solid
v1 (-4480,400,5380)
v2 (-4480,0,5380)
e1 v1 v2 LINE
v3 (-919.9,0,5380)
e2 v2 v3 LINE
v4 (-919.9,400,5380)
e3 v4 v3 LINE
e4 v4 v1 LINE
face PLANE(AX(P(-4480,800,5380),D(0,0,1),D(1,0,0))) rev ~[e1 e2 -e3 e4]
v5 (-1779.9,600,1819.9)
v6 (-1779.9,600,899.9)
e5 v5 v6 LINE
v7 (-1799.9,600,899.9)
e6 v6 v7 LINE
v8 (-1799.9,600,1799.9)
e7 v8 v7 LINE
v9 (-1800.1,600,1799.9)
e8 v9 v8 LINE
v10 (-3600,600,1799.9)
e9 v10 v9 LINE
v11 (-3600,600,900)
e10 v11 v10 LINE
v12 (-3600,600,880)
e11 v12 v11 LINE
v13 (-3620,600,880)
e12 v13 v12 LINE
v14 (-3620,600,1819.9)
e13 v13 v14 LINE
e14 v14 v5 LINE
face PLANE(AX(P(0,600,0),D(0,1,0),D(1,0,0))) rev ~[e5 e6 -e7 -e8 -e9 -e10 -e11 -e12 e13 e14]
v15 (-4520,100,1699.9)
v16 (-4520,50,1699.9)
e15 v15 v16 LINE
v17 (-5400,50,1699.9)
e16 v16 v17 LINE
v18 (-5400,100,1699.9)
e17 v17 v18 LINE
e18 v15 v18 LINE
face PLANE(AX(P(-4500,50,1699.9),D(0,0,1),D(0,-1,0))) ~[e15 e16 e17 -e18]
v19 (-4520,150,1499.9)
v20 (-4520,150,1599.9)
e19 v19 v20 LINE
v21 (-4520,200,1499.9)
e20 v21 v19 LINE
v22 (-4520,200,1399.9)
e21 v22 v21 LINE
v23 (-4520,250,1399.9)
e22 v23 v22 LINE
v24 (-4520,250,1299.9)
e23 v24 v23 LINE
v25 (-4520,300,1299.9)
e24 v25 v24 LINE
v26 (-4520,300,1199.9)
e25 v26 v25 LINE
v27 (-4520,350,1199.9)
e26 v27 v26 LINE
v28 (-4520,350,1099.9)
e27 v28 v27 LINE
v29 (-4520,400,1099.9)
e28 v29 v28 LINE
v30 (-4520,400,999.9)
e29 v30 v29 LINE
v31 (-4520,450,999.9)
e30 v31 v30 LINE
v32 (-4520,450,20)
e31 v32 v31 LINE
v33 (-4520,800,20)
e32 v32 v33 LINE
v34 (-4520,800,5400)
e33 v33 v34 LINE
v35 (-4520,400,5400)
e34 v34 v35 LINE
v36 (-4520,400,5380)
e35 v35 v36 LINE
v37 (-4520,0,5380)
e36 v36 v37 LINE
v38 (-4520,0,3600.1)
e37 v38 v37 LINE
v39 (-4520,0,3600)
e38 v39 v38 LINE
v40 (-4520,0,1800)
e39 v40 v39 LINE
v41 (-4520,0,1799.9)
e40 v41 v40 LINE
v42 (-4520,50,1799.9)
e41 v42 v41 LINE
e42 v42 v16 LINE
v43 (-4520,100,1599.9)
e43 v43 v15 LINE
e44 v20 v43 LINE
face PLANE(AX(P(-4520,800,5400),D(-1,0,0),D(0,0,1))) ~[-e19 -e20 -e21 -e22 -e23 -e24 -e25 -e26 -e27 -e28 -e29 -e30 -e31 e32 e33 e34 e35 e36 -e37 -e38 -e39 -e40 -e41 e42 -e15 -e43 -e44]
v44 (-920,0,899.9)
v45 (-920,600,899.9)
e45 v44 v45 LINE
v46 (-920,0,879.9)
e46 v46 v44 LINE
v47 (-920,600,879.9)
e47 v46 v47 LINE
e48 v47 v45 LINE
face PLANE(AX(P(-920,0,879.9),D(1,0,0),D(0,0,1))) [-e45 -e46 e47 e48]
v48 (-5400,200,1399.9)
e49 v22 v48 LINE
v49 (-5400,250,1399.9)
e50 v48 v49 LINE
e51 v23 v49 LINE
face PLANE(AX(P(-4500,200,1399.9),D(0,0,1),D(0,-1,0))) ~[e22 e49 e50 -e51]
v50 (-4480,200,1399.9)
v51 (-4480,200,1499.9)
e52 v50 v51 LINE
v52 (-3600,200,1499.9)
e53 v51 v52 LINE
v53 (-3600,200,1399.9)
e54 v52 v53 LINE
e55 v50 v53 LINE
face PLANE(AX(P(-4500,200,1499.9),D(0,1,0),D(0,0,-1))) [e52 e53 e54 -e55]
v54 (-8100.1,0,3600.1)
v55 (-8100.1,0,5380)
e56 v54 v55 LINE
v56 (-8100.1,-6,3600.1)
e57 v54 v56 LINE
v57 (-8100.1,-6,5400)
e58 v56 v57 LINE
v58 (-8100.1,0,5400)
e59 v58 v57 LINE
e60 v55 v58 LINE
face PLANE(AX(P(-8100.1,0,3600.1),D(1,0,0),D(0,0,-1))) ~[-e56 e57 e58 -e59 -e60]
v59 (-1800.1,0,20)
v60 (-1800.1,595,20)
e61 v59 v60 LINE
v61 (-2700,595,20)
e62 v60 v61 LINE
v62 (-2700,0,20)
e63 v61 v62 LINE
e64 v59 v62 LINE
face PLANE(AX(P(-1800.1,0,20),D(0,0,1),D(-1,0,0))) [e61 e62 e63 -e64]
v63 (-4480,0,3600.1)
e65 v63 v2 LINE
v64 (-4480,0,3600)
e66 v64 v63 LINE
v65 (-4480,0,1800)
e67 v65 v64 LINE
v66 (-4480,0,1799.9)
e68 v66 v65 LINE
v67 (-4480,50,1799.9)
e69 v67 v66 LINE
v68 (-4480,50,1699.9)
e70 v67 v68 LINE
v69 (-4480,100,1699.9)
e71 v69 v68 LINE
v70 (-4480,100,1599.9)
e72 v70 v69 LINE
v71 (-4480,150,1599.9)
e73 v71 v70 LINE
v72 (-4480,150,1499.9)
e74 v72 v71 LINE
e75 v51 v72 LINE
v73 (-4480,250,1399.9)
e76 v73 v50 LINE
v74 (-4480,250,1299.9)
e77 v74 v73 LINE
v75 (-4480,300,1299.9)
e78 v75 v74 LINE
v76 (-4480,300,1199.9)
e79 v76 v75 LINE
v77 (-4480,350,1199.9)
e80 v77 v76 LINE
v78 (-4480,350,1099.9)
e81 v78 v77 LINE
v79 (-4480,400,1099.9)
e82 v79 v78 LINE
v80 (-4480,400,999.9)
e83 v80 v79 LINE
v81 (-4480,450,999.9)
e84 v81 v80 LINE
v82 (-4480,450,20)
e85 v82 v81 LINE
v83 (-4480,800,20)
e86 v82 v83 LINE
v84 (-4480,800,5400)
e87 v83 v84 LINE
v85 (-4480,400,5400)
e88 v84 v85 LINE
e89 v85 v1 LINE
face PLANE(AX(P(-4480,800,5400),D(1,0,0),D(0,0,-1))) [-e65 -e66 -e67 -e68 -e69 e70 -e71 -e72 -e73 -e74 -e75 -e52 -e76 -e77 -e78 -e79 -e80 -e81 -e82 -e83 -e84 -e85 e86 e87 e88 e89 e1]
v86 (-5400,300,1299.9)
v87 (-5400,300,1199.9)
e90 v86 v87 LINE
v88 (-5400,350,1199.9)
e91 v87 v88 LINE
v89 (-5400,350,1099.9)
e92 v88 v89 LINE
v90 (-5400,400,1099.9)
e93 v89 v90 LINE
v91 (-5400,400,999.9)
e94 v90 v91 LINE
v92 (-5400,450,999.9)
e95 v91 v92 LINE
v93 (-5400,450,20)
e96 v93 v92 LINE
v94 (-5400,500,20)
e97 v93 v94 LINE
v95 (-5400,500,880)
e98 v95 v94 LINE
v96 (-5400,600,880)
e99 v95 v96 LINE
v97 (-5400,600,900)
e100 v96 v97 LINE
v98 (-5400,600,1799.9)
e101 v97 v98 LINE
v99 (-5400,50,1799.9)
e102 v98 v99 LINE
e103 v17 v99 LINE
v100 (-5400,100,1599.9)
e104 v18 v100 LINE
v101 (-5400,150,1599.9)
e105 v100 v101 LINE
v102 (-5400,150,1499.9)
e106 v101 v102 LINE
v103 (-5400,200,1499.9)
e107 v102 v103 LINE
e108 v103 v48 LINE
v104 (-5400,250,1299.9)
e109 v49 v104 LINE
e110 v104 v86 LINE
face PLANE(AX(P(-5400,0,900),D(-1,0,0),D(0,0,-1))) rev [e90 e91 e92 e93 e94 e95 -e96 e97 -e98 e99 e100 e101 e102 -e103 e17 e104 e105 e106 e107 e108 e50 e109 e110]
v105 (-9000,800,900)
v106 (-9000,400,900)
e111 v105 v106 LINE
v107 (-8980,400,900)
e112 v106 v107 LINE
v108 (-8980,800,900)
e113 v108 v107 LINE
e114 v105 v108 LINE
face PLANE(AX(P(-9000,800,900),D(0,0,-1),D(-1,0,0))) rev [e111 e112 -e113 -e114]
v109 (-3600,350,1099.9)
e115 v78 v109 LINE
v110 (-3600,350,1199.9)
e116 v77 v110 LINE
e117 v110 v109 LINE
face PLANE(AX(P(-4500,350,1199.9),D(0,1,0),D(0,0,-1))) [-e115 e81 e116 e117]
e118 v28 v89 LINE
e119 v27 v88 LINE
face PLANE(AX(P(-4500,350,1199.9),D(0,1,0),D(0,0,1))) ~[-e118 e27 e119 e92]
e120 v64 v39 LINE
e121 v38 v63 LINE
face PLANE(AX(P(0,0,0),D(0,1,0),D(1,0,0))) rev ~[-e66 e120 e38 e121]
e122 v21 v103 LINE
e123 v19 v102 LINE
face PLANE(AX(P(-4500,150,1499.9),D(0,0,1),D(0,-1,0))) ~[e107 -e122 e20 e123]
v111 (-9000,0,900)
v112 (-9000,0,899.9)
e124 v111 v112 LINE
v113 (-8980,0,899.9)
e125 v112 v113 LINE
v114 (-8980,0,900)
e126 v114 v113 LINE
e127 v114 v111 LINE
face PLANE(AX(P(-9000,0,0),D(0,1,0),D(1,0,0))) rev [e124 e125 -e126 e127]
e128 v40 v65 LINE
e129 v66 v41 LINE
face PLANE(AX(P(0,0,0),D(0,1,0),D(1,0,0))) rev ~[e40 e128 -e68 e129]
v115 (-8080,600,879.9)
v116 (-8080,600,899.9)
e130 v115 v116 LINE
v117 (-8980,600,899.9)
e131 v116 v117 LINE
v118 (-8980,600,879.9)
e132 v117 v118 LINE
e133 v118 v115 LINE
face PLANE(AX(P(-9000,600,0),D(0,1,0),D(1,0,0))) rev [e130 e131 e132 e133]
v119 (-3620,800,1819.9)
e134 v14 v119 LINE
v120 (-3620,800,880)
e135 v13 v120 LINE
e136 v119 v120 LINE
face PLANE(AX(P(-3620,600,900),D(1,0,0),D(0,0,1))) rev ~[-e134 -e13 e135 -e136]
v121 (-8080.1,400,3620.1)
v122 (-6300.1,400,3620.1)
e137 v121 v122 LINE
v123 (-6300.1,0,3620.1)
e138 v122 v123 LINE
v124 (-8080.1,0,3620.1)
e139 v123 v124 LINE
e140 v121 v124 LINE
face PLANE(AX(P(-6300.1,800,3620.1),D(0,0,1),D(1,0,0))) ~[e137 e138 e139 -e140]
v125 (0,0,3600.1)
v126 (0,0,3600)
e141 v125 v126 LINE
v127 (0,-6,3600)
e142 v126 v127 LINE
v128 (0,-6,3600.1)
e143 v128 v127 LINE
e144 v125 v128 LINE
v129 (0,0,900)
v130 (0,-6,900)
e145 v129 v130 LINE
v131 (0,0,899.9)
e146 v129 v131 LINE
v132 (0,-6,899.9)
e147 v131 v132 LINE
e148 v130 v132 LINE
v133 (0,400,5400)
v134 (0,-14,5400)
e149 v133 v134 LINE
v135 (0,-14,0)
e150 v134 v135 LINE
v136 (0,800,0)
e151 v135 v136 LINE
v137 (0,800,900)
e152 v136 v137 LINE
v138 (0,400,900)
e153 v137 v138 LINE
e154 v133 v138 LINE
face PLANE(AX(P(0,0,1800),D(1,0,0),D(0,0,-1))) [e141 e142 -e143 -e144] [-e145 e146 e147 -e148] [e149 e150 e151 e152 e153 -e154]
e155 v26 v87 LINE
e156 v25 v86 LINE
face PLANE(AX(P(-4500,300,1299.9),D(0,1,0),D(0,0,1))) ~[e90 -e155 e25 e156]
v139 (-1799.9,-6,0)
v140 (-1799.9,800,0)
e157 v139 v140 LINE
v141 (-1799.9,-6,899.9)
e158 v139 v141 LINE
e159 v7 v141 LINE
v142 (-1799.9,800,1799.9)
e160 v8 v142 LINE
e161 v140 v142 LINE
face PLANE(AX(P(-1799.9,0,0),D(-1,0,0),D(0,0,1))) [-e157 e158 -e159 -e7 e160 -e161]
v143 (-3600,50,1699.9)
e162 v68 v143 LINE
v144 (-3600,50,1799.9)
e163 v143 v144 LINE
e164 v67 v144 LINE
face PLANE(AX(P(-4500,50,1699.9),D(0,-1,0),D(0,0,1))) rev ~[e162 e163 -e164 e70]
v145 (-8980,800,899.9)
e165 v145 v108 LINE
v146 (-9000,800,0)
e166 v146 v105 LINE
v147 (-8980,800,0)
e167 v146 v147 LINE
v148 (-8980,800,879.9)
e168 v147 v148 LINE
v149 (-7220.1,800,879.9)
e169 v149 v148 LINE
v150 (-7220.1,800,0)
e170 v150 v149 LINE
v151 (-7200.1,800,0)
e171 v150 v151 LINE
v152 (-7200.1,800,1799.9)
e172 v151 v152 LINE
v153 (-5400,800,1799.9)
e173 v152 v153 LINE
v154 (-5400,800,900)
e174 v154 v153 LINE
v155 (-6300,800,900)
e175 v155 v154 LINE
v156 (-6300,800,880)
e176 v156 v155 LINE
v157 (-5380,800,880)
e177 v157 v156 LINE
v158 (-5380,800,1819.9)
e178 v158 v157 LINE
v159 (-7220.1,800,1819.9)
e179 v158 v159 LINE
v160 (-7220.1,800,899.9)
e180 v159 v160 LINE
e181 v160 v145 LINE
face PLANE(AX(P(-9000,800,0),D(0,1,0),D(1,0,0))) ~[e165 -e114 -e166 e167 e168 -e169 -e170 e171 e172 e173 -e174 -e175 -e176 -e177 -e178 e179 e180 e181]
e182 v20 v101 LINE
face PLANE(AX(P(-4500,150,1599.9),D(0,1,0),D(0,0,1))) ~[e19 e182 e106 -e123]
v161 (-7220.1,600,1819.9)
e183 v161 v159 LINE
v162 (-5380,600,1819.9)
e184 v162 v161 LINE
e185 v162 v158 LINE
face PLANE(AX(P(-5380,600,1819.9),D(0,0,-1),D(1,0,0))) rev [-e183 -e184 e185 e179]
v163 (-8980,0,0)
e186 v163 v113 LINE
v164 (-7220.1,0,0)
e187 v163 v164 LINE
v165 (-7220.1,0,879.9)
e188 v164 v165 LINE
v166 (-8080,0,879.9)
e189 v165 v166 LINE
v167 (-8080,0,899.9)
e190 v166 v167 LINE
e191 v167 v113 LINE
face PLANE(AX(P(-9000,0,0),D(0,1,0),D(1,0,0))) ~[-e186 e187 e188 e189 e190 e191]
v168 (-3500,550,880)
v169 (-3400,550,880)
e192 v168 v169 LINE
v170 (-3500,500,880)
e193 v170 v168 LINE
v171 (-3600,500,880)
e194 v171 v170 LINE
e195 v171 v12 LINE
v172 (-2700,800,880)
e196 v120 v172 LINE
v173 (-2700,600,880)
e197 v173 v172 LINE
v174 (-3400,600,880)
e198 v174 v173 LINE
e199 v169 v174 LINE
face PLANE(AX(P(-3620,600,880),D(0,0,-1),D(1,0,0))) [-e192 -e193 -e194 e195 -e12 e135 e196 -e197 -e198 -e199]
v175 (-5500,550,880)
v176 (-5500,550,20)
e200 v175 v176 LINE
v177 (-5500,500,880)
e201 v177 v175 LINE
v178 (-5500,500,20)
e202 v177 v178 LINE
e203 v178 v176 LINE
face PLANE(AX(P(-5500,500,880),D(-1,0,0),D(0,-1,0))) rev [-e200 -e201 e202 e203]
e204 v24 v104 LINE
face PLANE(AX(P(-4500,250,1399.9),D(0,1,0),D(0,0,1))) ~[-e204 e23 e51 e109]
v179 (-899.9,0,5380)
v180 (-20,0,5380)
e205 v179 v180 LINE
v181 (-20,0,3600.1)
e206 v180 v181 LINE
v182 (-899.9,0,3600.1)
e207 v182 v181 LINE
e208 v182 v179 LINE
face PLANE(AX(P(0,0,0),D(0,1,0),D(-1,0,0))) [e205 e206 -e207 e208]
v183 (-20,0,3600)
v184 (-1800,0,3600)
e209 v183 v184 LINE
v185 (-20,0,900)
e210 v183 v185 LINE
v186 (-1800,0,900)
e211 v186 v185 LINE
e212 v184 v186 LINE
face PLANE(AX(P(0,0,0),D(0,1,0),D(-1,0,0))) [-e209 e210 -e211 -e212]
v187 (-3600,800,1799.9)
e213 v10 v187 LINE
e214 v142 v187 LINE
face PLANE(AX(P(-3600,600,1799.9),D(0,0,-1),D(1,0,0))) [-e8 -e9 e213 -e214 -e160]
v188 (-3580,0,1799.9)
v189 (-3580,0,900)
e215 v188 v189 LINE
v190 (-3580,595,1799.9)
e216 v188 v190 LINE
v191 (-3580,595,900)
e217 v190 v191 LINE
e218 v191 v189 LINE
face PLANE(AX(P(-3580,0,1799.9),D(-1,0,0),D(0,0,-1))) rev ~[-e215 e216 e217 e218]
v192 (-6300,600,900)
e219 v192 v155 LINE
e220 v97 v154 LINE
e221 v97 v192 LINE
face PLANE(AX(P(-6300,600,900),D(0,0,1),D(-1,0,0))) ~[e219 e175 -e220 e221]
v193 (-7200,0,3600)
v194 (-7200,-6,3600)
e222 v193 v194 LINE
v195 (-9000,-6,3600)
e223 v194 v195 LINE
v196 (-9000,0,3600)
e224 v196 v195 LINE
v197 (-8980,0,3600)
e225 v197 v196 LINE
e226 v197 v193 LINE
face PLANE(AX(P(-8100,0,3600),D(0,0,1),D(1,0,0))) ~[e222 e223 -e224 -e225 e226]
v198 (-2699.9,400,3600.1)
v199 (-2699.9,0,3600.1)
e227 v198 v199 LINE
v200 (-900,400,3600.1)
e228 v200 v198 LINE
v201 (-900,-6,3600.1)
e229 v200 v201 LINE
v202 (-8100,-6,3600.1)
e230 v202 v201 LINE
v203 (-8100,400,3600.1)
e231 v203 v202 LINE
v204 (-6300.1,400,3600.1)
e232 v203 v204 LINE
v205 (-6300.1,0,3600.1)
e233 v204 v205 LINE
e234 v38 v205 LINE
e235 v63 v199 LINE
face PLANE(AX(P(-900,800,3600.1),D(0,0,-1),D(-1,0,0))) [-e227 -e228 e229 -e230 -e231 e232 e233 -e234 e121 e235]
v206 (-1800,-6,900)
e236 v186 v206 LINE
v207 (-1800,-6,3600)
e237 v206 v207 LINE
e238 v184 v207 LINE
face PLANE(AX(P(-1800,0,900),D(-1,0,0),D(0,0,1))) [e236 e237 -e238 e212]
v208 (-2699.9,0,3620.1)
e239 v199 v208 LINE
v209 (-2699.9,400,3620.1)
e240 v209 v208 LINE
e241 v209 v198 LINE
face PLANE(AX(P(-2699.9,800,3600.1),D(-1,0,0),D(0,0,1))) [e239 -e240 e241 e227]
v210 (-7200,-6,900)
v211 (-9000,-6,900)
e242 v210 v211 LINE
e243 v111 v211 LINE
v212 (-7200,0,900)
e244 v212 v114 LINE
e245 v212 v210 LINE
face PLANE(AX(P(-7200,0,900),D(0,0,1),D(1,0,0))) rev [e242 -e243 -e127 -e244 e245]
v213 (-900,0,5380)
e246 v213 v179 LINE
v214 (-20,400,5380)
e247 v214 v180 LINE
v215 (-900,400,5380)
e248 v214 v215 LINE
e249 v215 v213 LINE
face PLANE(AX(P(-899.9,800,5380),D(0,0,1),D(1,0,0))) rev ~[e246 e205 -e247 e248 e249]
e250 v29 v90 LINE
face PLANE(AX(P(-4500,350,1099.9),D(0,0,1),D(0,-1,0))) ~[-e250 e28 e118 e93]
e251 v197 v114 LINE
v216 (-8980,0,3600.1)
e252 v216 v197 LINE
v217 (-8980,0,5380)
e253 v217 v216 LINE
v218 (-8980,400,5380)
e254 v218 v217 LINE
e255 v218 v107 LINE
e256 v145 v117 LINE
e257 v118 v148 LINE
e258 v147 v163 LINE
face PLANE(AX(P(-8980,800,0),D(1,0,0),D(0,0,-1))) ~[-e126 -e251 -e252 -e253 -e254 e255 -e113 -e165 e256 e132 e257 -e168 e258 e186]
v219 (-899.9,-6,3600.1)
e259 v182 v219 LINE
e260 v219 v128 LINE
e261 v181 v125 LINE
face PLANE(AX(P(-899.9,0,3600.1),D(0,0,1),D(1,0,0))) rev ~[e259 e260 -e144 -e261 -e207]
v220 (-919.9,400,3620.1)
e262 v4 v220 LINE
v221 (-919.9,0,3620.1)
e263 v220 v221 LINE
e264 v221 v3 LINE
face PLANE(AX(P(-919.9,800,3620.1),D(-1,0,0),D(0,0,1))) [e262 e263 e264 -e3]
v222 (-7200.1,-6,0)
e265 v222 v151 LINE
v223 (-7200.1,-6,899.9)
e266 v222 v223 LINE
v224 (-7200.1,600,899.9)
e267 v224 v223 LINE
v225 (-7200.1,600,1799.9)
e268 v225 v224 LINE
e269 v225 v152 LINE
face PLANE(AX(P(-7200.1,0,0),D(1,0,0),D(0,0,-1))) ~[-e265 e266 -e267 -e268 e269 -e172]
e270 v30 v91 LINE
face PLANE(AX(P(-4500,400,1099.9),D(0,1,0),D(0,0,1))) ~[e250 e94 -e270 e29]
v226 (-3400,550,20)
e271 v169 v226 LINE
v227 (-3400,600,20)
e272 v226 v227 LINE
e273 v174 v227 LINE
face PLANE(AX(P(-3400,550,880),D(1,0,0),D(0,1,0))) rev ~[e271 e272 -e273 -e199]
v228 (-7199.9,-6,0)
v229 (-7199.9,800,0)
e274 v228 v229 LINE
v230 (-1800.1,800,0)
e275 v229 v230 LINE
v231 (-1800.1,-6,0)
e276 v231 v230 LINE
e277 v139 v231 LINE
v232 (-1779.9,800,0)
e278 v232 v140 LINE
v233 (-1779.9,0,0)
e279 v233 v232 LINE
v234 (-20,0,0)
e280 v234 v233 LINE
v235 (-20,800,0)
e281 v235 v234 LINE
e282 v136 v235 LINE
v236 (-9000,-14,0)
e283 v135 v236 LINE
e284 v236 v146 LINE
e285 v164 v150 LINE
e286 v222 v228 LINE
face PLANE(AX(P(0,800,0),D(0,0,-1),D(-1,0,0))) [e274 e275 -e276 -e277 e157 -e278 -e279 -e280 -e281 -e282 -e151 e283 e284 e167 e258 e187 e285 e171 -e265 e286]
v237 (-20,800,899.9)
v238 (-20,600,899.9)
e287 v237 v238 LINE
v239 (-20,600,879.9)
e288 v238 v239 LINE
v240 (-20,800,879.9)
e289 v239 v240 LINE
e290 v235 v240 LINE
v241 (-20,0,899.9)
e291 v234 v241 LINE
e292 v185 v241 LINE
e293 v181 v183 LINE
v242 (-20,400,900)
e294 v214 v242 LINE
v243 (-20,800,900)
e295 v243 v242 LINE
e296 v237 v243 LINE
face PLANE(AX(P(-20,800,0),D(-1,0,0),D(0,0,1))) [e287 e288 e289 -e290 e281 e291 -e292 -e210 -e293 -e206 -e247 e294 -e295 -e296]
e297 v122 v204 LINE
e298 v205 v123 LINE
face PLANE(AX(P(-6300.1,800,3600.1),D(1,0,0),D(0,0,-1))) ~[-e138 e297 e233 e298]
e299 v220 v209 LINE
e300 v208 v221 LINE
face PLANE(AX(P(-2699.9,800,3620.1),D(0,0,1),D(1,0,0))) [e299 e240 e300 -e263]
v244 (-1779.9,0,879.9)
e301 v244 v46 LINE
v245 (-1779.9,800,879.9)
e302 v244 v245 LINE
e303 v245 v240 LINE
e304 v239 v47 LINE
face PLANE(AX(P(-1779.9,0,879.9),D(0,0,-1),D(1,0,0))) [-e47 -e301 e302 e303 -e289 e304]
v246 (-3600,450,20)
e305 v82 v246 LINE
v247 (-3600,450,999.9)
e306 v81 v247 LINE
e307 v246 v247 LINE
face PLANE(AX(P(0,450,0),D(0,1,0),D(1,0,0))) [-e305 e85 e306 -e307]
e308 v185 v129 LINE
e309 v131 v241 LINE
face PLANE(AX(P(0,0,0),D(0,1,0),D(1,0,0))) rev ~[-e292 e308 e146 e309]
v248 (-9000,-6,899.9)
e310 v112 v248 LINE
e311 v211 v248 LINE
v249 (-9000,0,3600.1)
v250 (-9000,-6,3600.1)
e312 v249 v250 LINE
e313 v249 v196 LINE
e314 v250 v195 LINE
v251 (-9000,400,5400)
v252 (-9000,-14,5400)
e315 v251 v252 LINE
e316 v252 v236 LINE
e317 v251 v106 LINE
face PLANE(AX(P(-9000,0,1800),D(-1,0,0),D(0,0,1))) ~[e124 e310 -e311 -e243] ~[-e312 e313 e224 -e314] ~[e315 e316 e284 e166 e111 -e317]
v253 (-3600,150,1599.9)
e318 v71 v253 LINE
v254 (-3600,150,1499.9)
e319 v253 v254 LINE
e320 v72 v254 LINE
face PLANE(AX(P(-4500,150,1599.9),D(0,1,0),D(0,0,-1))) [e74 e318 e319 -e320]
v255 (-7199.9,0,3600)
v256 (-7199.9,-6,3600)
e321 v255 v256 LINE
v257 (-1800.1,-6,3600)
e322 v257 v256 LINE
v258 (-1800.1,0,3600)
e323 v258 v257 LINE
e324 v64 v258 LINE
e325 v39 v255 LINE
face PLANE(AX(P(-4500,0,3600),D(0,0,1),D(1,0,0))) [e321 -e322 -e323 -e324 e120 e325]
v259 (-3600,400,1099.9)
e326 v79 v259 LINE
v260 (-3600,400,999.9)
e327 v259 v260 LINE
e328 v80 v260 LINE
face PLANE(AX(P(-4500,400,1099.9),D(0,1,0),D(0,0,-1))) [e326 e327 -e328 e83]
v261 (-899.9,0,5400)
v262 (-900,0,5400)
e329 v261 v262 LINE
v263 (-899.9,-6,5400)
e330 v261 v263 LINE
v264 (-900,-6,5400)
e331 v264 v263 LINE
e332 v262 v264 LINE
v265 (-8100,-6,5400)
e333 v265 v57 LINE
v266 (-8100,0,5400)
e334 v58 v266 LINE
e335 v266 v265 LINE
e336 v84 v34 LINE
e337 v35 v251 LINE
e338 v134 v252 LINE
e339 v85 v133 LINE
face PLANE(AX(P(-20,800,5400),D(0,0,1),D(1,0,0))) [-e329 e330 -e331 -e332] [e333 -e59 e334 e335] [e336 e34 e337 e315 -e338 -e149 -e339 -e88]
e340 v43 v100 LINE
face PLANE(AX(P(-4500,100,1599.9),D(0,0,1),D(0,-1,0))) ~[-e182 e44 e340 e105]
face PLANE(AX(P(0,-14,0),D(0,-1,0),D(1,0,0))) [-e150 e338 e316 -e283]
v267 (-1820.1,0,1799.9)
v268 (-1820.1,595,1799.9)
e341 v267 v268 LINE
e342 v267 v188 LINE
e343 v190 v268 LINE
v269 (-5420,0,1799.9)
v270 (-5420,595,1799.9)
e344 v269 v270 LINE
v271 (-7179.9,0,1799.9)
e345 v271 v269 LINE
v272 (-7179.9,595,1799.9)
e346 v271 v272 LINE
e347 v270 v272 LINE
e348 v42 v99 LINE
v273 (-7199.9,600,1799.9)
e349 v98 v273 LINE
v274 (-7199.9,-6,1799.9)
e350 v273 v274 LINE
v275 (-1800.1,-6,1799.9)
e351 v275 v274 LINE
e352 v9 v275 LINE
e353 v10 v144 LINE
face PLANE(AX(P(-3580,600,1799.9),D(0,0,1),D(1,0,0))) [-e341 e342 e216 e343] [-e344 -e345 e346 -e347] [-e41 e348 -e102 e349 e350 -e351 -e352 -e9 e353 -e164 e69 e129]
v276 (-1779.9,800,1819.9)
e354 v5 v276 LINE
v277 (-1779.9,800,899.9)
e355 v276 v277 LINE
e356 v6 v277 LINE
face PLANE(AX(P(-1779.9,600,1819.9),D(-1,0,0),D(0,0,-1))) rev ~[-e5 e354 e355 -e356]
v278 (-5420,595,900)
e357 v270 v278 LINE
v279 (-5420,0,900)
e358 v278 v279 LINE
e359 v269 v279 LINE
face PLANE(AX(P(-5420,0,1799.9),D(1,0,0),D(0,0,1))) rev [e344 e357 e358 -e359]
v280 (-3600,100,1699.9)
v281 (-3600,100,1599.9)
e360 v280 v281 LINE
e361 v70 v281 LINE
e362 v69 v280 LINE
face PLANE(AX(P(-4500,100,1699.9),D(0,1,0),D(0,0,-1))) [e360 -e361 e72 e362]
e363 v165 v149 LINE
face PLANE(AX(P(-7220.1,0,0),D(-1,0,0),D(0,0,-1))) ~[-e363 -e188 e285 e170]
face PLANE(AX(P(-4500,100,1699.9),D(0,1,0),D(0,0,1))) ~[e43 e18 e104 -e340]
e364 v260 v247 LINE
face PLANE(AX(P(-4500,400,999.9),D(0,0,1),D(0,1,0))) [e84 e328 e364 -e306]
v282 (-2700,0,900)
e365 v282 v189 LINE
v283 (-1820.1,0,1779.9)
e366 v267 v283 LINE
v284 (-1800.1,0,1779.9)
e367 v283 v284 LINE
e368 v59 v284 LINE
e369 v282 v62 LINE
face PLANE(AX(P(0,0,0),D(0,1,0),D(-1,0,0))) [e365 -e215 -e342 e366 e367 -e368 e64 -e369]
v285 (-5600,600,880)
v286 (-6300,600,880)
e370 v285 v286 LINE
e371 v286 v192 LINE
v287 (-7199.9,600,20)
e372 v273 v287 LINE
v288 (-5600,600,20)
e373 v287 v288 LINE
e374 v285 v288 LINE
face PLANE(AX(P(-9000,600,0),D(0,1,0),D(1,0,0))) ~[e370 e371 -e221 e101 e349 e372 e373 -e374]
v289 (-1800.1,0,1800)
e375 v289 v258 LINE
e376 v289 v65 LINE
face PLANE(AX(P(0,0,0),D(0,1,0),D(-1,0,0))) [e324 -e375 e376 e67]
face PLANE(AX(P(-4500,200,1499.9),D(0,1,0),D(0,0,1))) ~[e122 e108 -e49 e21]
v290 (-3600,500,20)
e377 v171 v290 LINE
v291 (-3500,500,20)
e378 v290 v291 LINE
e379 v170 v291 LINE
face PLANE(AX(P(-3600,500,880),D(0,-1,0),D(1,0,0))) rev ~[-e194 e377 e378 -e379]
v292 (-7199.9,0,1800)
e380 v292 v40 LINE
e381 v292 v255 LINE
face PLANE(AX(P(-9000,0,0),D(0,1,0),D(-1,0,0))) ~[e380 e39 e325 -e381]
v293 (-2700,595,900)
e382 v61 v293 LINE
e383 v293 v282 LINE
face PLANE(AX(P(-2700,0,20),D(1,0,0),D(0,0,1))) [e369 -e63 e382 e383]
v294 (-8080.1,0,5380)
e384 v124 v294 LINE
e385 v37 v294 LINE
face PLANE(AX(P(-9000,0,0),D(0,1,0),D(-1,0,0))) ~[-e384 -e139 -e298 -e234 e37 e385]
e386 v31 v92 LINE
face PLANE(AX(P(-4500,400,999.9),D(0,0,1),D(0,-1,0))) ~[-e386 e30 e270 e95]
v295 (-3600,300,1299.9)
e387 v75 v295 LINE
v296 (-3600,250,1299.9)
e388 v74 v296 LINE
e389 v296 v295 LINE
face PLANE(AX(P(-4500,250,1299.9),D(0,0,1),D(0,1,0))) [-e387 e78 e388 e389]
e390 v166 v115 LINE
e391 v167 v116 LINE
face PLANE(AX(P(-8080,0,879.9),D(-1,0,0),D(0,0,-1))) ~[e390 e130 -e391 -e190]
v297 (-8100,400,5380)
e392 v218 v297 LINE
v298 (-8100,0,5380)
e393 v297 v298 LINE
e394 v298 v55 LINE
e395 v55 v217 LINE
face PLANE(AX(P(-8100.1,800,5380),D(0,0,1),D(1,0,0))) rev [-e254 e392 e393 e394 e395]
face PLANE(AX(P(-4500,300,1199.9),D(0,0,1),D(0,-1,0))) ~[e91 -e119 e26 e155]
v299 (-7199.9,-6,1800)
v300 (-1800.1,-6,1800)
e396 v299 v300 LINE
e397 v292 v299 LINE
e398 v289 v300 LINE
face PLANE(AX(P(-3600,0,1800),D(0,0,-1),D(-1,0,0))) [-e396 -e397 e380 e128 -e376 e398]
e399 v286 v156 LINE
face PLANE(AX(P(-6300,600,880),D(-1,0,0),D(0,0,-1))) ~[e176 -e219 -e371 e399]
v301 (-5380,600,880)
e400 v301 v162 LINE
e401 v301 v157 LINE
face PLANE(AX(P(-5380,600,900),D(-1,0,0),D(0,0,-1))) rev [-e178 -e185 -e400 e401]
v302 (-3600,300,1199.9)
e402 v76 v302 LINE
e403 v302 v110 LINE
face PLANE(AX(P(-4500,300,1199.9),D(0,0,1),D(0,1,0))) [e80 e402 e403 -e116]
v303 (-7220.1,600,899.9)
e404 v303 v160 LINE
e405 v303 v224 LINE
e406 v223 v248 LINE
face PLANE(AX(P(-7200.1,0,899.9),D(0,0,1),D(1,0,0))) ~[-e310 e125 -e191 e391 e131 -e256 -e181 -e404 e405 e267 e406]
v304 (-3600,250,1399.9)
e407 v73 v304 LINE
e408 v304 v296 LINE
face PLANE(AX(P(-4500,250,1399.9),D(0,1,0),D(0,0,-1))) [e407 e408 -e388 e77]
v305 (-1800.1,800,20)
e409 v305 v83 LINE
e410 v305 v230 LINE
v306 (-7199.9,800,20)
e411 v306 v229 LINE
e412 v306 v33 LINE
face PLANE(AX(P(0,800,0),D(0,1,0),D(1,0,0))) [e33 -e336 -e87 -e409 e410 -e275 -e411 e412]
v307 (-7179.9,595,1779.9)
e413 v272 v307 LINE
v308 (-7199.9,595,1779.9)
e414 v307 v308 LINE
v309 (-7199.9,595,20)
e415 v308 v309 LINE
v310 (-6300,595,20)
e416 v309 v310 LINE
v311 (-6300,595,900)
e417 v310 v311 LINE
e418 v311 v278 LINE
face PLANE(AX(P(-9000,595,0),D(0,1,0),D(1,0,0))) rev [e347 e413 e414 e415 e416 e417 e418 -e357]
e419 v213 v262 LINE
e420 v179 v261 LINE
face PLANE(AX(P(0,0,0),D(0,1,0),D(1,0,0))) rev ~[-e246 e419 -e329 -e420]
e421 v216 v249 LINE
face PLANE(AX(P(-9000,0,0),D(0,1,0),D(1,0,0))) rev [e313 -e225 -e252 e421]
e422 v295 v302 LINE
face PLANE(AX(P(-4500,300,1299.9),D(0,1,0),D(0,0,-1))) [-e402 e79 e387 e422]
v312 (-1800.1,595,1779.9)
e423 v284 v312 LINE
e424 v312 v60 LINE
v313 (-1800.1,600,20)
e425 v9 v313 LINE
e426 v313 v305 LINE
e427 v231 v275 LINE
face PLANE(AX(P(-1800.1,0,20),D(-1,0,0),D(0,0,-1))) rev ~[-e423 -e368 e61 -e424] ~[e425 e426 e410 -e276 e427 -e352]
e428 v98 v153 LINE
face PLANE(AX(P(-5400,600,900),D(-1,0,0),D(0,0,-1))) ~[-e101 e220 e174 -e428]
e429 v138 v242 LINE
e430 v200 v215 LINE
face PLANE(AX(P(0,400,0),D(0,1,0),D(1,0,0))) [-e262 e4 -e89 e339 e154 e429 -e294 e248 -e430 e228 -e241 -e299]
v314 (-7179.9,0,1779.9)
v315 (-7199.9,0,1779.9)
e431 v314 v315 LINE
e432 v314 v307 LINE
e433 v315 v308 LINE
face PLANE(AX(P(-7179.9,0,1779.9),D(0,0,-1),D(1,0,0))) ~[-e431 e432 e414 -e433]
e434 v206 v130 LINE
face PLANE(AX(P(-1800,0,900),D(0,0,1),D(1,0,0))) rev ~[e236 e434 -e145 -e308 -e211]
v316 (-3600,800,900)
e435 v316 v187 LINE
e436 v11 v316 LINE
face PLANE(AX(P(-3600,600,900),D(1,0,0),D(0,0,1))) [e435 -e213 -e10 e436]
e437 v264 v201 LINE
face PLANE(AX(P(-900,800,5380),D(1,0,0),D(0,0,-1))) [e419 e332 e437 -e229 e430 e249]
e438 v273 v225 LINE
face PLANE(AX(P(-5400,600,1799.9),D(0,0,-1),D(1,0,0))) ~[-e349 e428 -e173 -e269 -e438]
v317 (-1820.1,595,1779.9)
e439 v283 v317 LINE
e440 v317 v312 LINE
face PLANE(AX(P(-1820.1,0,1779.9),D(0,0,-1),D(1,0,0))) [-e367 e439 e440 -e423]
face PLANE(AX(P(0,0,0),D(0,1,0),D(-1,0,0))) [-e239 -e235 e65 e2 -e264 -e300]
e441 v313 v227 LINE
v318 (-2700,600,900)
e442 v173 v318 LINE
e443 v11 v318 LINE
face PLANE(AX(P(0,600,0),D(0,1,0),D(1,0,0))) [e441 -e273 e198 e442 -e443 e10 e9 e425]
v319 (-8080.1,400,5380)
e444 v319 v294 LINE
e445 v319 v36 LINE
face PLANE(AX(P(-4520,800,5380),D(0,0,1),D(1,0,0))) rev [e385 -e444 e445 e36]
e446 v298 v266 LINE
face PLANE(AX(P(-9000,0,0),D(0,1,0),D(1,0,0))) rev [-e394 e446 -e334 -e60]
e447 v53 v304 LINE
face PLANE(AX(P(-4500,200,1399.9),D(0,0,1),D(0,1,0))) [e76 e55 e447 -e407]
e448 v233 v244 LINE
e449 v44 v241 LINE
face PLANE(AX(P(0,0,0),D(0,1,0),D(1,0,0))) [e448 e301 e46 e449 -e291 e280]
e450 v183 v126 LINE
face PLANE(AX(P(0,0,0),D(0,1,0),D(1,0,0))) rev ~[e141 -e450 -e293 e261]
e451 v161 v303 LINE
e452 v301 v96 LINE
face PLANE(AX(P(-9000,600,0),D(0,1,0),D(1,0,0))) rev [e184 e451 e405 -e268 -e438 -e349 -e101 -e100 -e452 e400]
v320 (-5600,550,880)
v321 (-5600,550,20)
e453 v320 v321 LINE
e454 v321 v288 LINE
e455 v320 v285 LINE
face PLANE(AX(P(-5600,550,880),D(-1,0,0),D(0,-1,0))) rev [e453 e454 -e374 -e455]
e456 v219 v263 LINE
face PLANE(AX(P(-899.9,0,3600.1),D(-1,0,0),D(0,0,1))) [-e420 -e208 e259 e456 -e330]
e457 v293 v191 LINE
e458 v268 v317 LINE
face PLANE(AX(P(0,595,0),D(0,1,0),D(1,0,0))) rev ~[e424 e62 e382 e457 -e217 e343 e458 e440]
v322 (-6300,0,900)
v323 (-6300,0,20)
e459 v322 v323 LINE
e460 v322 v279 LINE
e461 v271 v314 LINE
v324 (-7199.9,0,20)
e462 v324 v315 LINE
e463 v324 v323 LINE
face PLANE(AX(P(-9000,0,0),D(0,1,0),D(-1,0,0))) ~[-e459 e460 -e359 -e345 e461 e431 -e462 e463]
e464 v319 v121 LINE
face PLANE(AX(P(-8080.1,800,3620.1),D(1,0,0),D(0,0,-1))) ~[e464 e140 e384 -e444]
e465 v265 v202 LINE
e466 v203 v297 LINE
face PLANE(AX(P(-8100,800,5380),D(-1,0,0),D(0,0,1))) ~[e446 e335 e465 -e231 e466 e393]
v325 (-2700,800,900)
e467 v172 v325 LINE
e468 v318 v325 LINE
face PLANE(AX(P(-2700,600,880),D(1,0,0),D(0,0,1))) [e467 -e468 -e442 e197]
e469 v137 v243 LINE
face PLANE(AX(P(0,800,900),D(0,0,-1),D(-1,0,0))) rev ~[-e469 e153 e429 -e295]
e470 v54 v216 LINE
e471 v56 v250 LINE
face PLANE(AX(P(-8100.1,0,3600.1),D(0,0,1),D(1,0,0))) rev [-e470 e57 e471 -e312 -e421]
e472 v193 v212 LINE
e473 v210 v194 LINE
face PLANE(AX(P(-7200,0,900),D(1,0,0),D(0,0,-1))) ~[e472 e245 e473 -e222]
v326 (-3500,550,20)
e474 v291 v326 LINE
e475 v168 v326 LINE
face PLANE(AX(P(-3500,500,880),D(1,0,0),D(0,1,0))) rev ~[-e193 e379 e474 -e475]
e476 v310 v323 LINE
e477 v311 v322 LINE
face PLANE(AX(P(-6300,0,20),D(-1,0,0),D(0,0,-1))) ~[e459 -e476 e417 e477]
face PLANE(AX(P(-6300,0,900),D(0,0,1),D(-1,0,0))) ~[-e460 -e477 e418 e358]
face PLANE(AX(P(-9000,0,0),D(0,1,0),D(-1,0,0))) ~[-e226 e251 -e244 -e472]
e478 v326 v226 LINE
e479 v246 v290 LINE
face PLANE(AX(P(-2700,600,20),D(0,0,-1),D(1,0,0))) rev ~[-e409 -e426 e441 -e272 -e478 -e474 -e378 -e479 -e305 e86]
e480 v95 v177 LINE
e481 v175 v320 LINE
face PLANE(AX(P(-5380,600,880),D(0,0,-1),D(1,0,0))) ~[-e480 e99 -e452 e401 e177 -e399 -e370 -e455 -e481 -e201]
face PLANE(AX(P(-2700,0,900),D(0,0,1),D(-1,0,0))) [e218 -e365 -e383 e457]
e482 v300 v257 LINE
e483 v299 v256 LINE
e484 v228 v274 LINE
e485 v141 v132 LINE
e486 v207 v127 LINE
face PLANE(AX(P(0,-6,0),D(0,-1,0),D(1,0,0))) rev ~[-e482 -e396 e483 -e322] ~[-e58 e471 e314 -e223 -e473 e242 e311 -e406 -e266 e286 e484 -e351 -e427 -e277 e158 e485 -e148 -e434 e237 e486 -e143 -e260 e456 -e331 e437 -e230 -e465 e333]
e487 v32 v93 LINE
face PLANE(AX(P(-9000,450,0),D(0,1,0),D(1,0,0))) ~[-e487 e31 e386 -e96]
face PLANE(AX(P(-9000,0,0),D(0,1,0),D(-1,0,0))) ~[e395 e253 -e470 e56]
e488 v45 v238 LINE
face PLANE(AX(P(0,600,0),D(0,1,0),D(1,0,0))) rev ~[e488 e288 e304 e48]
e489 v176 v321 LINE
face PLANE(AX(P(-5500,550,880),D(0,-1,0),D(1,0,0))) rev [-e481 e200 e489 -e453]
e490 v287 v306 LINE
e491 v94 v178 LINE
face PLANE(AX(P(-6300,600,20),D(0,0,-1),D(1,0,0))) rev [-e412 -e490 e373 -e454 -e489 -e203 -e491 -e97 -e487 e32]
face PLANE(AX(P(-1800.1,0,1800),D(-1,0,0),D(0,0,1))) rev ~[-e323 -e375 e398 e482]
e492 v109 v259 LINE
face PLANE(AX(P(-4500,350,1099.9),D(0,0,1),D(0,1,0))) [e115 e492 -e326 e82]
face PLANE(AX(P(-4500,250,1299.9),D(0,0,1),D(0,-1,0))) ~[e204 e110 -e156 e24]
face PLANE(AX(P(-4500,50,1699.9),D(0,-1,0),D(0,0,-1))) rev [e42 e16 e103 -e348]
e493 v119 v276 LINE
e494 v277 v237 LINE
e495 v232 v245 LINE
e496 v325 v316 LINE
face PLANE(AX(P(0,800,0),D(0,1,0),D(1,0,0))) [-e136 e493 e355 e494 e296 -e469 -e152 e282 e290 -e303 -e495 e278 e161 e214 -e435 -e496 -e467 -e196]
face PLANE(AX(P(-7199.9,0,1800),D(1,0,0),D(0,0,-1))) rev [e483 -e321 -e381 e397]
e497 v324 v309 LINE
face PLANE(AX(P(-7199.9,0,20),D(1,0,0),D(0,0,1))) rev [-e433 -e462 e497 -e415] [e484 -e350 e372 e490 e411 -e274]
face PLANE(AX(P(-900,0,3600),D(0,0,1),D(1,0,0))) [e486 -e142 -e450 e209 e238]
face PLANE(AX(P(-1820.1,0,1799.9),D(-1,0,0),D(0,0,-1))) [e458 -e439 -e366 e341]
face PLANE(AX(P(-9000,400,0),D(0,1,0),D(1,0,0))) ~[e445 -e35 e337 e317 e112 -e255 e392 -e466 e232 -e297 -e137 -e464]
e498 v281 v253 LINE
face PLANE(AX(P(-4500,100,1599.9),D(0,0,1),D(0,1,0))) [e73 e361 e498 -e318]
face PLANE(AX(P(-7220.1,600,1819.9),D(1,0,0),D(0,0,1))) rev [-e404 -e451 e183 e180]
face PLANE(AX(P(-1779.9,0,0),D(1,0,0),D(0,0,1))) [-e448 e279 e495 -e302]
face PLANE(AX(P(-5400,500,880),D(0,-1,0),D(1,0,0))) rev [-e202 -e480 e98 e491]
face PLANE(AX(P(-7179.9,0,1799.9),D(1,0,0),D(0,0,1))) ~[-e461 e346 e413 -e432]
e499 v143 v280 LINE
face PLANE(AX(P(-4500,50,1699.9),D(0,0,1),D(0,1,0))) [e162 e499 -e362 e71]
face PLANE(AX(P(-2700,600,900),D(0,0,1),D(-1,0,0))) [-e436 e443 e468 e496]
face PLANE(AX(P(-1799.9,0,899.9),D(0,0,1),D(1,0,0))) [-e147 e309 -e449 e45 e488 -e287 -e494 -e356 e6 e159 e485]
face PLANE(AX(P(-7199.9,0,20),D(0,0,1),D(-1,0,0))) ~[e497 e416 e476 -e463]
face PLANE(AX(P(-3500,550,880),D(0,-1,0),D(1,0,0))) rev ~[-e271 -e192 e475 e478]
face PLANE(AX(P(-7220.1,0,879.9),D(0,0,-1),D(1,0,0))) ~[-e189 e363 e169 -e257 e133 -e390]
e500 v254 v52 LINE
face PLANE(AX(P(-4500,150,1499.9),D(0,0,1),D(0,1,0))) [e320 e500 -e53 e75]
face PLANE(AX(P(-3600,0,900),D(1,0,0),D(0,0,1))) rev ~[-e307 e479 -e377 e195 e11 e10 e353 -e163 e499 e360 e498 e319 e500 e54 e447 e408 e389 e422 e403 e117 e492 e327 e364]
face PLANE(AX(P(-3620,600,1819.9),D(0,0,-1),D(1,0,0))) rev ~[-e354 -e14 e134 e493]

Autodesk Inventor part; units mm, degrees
ref_plane "YZ Plane" through (0, 0, 0) normal (1, 0, 0) x (0, 1, 0)
ref_plane "XZ Plane" through (0, 0, 0) normal (0, 1, 0) x (-1, 0, 0)
ref_plane "XY Plane" through (0, 0, 0) normal (0, 0, 1) x (1, 0, 0)
sketch "スケッチ1" plane through (0, 0, 0) normal (0, 1, 0) x (-1, 0, 0)
  line L0 (0, 0) -> (1800, 0)
  line L1 (1800, 0) -> (1800, 1800)
  line L2 (1800, 1800) -> (0, 1800) construction
  line L3 (0, 1800) -> (0, 0)
  line L4 (0, 1800) -> (1800, 1800) construction
  line L5 (1800, 1800) -> (1800, 3600)
  line L6 (1800, 3600) -> (0, 3600)
  line L7 (0, 3600) -> (0, 1800)
  line L8 (0, 3600) -> (900, 3600)
  line L9 (900, 3600) -> (900, 5400)
  line L10 (900, 5400) -> (0, 5400)
  line L11 (0, 5400) -> (0, 3600)
  line L12 (900, 5400) -> (4500, 5400)
  line L13 (4500, 5400) -> (4500, 3600)
  line L14 (4500, 3600) -> (900, 3600)
  line L15 (900, 3600) -> (900, 5400)
  line L16 (4500, 3600) -> (1800, 3600)
  line L17 (1800, 3600) -> (1800, 1800)
  line L18 (1800, 1800) -> (4500, 1800)
  line L19 (4500, 1800) -> (4500, 3600)
  line L20 (1800, 1800) -> (4500, 1800)
  line L21 (4500, 1800) -> (4500, 0)
  line L22 (4500, 0) -> (1800, 0)
  line L23 (1800, 0) -> (1800, 1800)
  line L24 (4500, 1800) -> (3600, 1800)
  line L25 (3600, 1800) -> (3600, 0)
  line L26 (3600, 0) -> (4500, 0)
  line L27 (4500, 0) -> (4500, 1800)
  line L28 (1800, 900) -> (0, 900)
  line L29 (1800, 899.9) -> (0, 899.9)
  line L30 (1799.9, 0) -> (1799.9, 899.9)
  line L31 (1800.1, 1800) -> (1800.1, 3600)
  line L32 (1800.1, 0) -> (1800.1, 1799.9)
  line L33 (1800.1, 1799.9) -> (3600, 1799.9)
  line L34 (1877.5864, 3600) -> (4500, 3600)
  line L35 (4500, 3600) -> (4500, 1864.0551)
  line L36 (3600, 1799.9) -> (4500, 1799.9)
  line L37 (4500, 3600.1) -> (0, 3600.1)
  line L38 (899.9, 3600.1) -> (899.9, 5400)
  point P0 (4500, 1800)
  point P1 (1800, 1799.9)
  point P2 (3600, 0)
  point P3 (900, 3600.1)
  dimension "d0" = 1800
  dimension "d1" = 1800
  dimension "d2" = 1800
  dimension "d3" = 1800
  dimension "d4" = 900
  dimension "d5" = 1800
  dimension "d6" = 3600
  dimension "d7" = 1800
  dimension "d8" = 900
  dimension "d9" = 1800
  dimension "d22" = 0.1
  dimension "d23" = 0.1
  dimension "d24" = 0.1
  dimension "d26" = 0.1
  dimension "d31" = 0.1
  dimension "d32" = 0.1
  dimension "d35" = 0.1
  dimension "d36" = 0.1
extrude "押し出し1" add sketch "スケッチ1" against normal blind 10 contours L3 L29 L30 L0
extrude "押し出し4" add sketch "スケッチ1" against normal blind 10 contours L32 L33 L25 L22 | L25 L36 L21 L22 | L9 L12 L13 L37
extrude "押し出し5" add sketch "スケッチ1" against normal blind 10 contours L3 L7 L6 L5 L1 L28
extrude "押し出し6" add sketch "スケッチ1" against normal blind 10 contours L31 L14 L19 L18
extrude "押し出し8" add sketch "スケッチ1" against normal blind 10 contours L11 L10 L38 L37
sketch "スケッチ4" plane through (0, 0, 0) normal (0, 1, 0) x (1, 0, 0)
  line L0 (-1800.1, -1799.9) -> (-1800.1, 0) projected
  line L1 (-1800.1, 0) -> (-4500, 0) projected
  line L2 (-4500, 0) -> (-4500, -1799.9) projected
  line L3 (-4500, -1799.9) -> (-1800.1, -1799.9) projected
  line L4 (-1800.1, -1799.9) -> (-1820.1, -1799.9)
  line L5 (-1820.1, -1799.9) -> (-1820.1, -1779.9)
  line L6 (-1820.1, -1779.9) -> (-1800.1, -1779.9)
  line L7 (-1800.1, -1779.9) -> (-1800.1, -1799.9)
  line L8 (-3600, -1799.9) -> (-3580, -1799.9)
  line L9 (-3580, -1799.9) -> (-3580, 0.1)
  line L10 (-3580, 0.1) -> (-3600, 0.1)
  line L11 (-3600, 0.1) -> (-3600, -1799.9)
  line L12 (-3600, -900) -> (-3580, -900)
  point P0 (0, 0)
  point P1 (-3600, 0)
  point P2 (-3580, 0)
  dimension "d41" = 20
  dimension "d42" = 20
  dimension "d43" = 20
  dimension "d44" = 1800
  dimension "d45" = 900
  dimension "d48" = 900
extrude "押し出し9" add sketch "スケッチ4" along normal blind 600 contours L3 L5 L6 L0 | L3 L11 L12 L9
sketch "スケッチ5" plane through (0, 600, 0) normal (0, 1, 0) x (1, 0, 0)
  line L0 (-3600, -900) -> (-3600, -1799.9) projected
  line L1 (-3580, -1799.9) -> (-1820.1, -1799.9) projected
  line L2 (-1800.1, -1800) -> (-4500, -1800) projected
  line L3 (-1800.1, -1779.9) -> (-1800.1, 0) projected
  line L4 (-3600, -1799.9) -> (-1800.1, -1799.9)
  line L5 (-1800.1, -1799.9) -> (-1800.1, 0)
  line L6 (-1800.1, 0) -> (-3600, 0)
  line L7 (-3600, 0) -> (-3600, -1799.9)
  line L8 (-3600, 0) -> (-2700, 0)
  line L9 (-2700, 0) -> (-2700, -900)
  line L10 (-2700, -900) -> (-3600, -900)
  line L11 (-3600, -900) -> (-3600, 0)
  point P0 (0, 0)
  dimension "d49" = 900
  dimension "d50" = 900
extrude "押し出し10" add sketch "スケッチ5" against normal blind 5 contours L10 L9 L6 L3 L5 L4 L1 L0
sketch "スケッチ6" plane through (0, 0, 0) normal (0, 1, 0) x (1, 0, 0)
  line L0 (-1800.1, -1799.9) -> (-1800.1, 0) projected
  line L1 (0, 0) -> (-1799.9, 0) projected
  line L2 (-1799.9, 0) -> (-1779.9, 0)
  line L3 (-1779.9, 0) -> (-1779.9, -899.9)
  line L4 (-1779.9, -899.9) -> (-1799.9, -899.9)
  line L5 (-1799.9, -899.9) -> (-1799.9, 0)
  line L6 (-1799.9, -899.9) -> (0, -899.9) projected
  line L7 (0, -899.9) -> (0, 0) projected
  line L8 (0, 0) -> (-1799.9, 0) projected
  line L9 (-1799.9, 0) -> (-1799.9, -899.9) projected
  line L10 (-1799.9, -899.9) -> (-1799.9, 0) projected
  line L11 (0, -899.9) -> (-1779.9, -899.9)
  line L12 (-1779.9, -899.9) -> (-1779.9, -879.9)
  line L13 (-1779.9, -879.9) -> (0, -879.9)
  line L14 (0, -879.9) -> (0, -899.9)
  dimension "d53" = 20
  dimension "d54" = 20
extrude "押し出し11" add sketch "スケッチ6" along normal blind 800 contours L3 L4 L5 L1 | L7 L6 L3 L13
sketch "スケッチ7" plane through (0, 600, 0) normal (0, 1, 0) x (1, 0, 0)
  line L0 (-1799.9, 0) -> (-1799.9, -899.9) projected
  line L1 (-3600, -1799.9) -> (-1800.1, -1799.9) projected
  line L2 (-1800.1, -1799.9) -> (-1800.1, 0) projected
  line L3 (-1800.1, 0) -> (-2700, 0) projected
  line L4 (-2700, 0) -> (-2700, -900) projected
  line L5 (-2700, -900) -> (-3600, -900) projected
  line L6 (-3600, -900) -> (-3600, -1799.9) projected
  line L7 (0, -899.9) -> (-1799.9, -899.9) projected
  line L8 (-1799.9, -899.9) -> (-1779.9, -899.9)
  line L9 (-1779.9, -899.9) -> (-1779.9, -1799.9)
  line L10 (-1779.9, -1799.9) -> (-1799.9, -1799.9)
  line L11 (-1799.9, -1799.9) -> (-1799.9, -899.9)
  line L12 (-1779.9, -879.9) -> (-1779.9, 0) projected
  line L13 (-1779.9, -1799.9) -> (-3620, -1799.9)
  line L14 (-3620, -1799.9) -> (-3620, -1819.9)
  line L15 (-3620, -1819.9) -> (-1779.9, -1819.9)
  line L16 (-1779.9, -1819.9) -> (-1779.9, -1799.9)
  line L17 (-3620, -1799.9) -> (-3600, -1799.9)
  line L18 (-3600, -1799.9) -> (-3600, -900)
  line L19 (-3600, -900) -> (-3620, -900)
  line L20 (-3620, -900) -> (-3620, -1799.9)
  line L21 (-2700, -900) -> (-3620, -900)
  line L22 (-3620, -900) -> (-3620, -880)
  line L23 (-3620, -880) -> (-2700, -880)
  line L24 (-2700, -880) -> (-2700, -900)
  line L25 (-1800.1, 0) -> (-4500, 0)
  line L26 (-4500, 0) -> (-4500, -20)
  line L27 (-4500, -20) -> (-1800.1, -20)
  line L28 (-1800.1, -20) -> (-1800.1, 0)
  line L29 (-4500, 0) -> (-4500, -1799.9) projected
  point P0 (0, 0)
  point P1 (-1800.1, -20)
  dimension "d57" = 20
  dimension "d58" = 20
extrude "押し出し12" add sketch "スケッチ7" along normal blind 200 contours L13 L20 L19 L6 | L1 L13 L10 L16 L15 L14 | L19 L22 L23 L4 L5 | L27 L4 L3 L2 | L11 L7 L9 L10 | L27 L26 L25 L4
sketch "スケッチ8" plane through (0, 0, 0) normal (0, 1, 0) x (1, 0, 0)
  line L0 (-1800.1, -20) -> (-2700, -20) projected
  line L1 (-2700, -20) -> (-2700, -880) projected
  line L2 (-2700, -880) -> (-2700, -900) projected
  line L3 (-2700, -900) -> (-3600, -900) projected
  line L4 (-3600, -900) -> (-3600, -1799.9) projected
  line L5 (-3600, -1799.9) -> (-1800.1, -1799.9) projected
  line L6 (-1800.1, -1799.9) -> (-1800.1, -20) projected
  line L7 (-1820.1, -1799.9) -> (-1820.1, -1779.9) projected
  line L8 (-1820.1, -1779.9) -> (-1800.1, -1779.9) projected
  line L9 (-1800.1, -1779.9) -> (-1800.1, 0) projected
  line L10 (-1800.1, 0) -> (-4500, 0) projected
  line L11 (-4500, 0) -> (-4500, -1799.9) projected
  line L12 (-4500, -1799.9) -> (-3600, -1799.9) projected
  line L13 (-3600, -1799.9) -> (-3600, -900) projected
  line L14 (-3600, -900) -> (-3580, -900) projected
  line L15 (-3580, -900) -> (-3580, -1799.9) projected
  line L16 (-3580, -1799.9) -> (-1820.1, -1799.9) projected
  point P0 (0, 0)
extrude "押し出し13" add sketch "スケッチ8" along normal blind 450 contours L0 L1 L2 L3 L4 L12 L11 L10 L9
sketch "スケッチ9" plane through (-4500, -10, 0) normal (-1, 0, 0) x (0, 0, 1)
  line L0 (1800, 10) -> (3600, 10) projected
  line L1 (1800, 10) -> (1799.9, 60)
  line L2 (1799.9, 0) -> (1799.9, 460) projected
  line L3 (1699.9, 60) -> (1699.9, 110)
  line L4 (1699.9, 110) -> (1599.9, 110)
  line L5 (1599.9, 110) -> (1599.9, 160)
  line L6 (1599.9, 160) -> (1499.9, 160)
  line L7 (1499.9, 160) -> (1499.9, 210)
  line L8 (1499.9, 210) -> (1399.9, 210)
  line L9 (1399.9, 210) -> (1399.9, 260)
  line L10 (1399.9, 260) -> (1299.9, 260)
  line L11 (1299.9, 260) -> (1299.9, 310)
  line L12 (900, 460) -> (1799.9, 460) projected
  line L13 (1699.9, 60) -> (1799.9, 60)
  line L14 (1299.9, 310) -> (1199.9, 310)
  line L15 (1199.9, 310) -> (1199.9, 360)
  line L16 (1199.9, 360) -> (1099.9, 360)
  line L17 (1099.9, 360) -> (1099.9, 410)
  line L18 (1099.9, 410) -> (999.9, 410)
  line L19 (999.9, 410) -> (999.9, 460)
  line L20 (999.9, 460) -> (899.9, 460)
  point P0 (0, 10)
  dimension "d63" = 100
  dimension "d64" = 50
  dimension "d65" = 50
extrude "押し出し14" cut sketch "スケッチ9" against normal up to surface (900 mm away)
sketch "スケッチ10" plane through (0, 450, 0) normal (0, 1, 0) x (1, 0, 0)
  line L0 (-1800.1, -20) -> (-1800.1, 0) projected
  line L1 (-1800.1, 0) -> (-4500, 0) projected
  line L2 (-4500, 0) -> (-4500, -20) projected
  line L3 (-4500, -20) -> (-1800.1, -20) projected
  line L4 (-4500, -999.9) -> (-3600, -999.9) projected
  line L5 (-3600, -900) -> (-3600, -999.9) projected
  line L6 (-3580, -900) -> (-3600, -900) projected
  line L7 (-3580, -900) -> (-2700, -900) projected
  line L8 (-2700, -900) -> (-2700, -20) projected
  line L9 (-2700, -20) -> (-1800.1, -20) projected
  line L10 (-1800.1, -20) -> (-1800.1, 0) projected
  line L11 (-1800.1, 0) -> (-4500, 0) projected
  line L12 (-4500, 0) -> (-4500, -999.9) projected
  line L13 (-3600, -900) -> (-2700, -900)
  line L14 (-2700, -900) -> (-2700, -20)
  line L15 (-2700, -20) -> (-3600, -20)
  line L16 (-3600, -20) -> (-3600, -900)
  point P0 (0, 0)
extrude "押し出し15" add sketch "スケッチ10" along normal up to surface (150 mm away) contours L3 L2 L1 L0 | L8 L7 L6 L16 L3
sketch "スケッチ11" plane through (-2700, 600, 880) normal (0, 0, -1) x (-1, 0, 0)
  line L0 (900, -150) -> (1800, -150) projected
  line L1 (1800, -150) -> (900, -150) projected
  line L2 (900, -150) -> (900, -100)
  line L3 (900, -100) -> (800, -100)
  line L4 (800, -100) -> (800, -50)
  line L5 (800, -50) -> (700, -50)
  line L6 (700, -50) -> (700, 0)
  line L7 (700, 0) -> (600, 0)
  line L8 (900, -200) -> (900, -150) projected
  line L9 (900, -250) -> (900, -200) projected
  line L10 (900, -300) -> (900, -250) projected
  line L11 (900, -350) -> (900, -300) projected
  line L12 (900, -400) -> (900, -350) projected
  line L13 (900, -450) -> (900, -400) projected
  line L14 (900, -500) -> (900, -450) projected
  line L15 (900, -550) -> (900, -500) projected
  line L16 (900, -550) -> (900, 0) projected
  line L17 (900, -150) -> (900, 0) projected
  line L18 (900, 0) -> (-899.9, 0) projected
  line L19 (0, 0) -> (900, 0) projected
  line L20 (0, 0) -> (900, 0) projected
  line L21 (900, 0) -> (-899.9, 0) projected
  point P0 (-2700, -600)
  point P1 (700, 0)
  dimension "d70" = 50
  dimension "d71" = 100
extrude "押し出し16" cut sketch "スケッチ11" along normal up to surface (860 mm away)
sketch "スケッチ12" plane through (0, 800, 0) normal (0, 1, 0) x (1, 0, 0)
  line L0 (0, 0) -> (-4500, 0)
  line L1 (-4500, 0) -> (-4500, -5400)
  line L2 (-4500, -5400) -> (0, -5400)
  line L3 (0, -5400) -> (0, 0)
  line L4 (-4480, 0) -> (-4480, -5400)
  line L5 (-20, 0) -> (-20, -5400)
  line L6 (-4500, -5380) -> (0, -5380)
  line L7 (-1800, -3600) -> (0, -3600) projected
  line L8 (-4500, -3600) -> (-1800.1, -3600) projected
  line L9 (-900, -5400) -> (-900, -3600.1) projected
  line L10 (-899.9, -5400) -> (-899.9, -3600.1) projected
  line L11 (-899.9, -3600.1) -> (-919.9, -3600.1)
  line L12 (-919.9, -3600.1) -> (-919.9, -5380)
  line L13 (-919.9, -5380) -> (-899.9, -5380)
  line L14 (-899.9, -5380) -> (-899.9, -3600.1)
  line L15 (-899.9, -3600.1) -> (-2699.9, -3600.1)
  line L16 (-2699.9, -3600.1) -> (-2699.9, -3620.1)
  line L17 (-2699.9, -3620.1) -> (-899.9, -3620.1)
  line L18 (-899.9, -3620.1) -> (-899.9, -3600.1)
  point P0 (-20, -5380)
  point P1 (-4480, -5380)
  point P2 (-919.9, -3620.1)
  point P3 (-900, -5380)
  dimension "d74" = 20
  dimension "d75" = 20
  dimension "d76" = 20
  dimension "d79" = 20
  dimension "d80" = 1800
  dimension "d81" = 20
extrude "押し出し17" add sketch "スケッチ12" against normal up to surface (800 mm away) contours L3 L7 L5 L0 | L3 L6 L5 L7 | L4 L8 L1 L0 | L3 L2 L5 L6 | L4 L6 L1 L8 | L5 L2 L10 L6 | L6 L9 L2 L4 | L4 L2 L1 L6 | L10 L2 L9 L6 | L12 L17 L9 L6 | L17 L16 L15 L12 | L12 L11 L9 L17
sketch "スケッチ13" plane through (0, 0, 0) normal (0, 1, 0) x (1, 0, 0)
  line L0 (-20, -879.9) -> (-920, -879.9)
  line L1 (-920, -879.9) -> (-920, -899.9)
  line L2 (-920, -899.9) -> (-20, -899.9)
  line L3 (-20, -899.9) -> (-20, -879.9)
  line L4 (-1779.9, -899.9) -> (-20, -899.9) projected
  point P0 (0, 0)
  dimension "d0" = 1800
  dimension "d1" = 1800
  dimension "d2" = 1800
  dimension "d3" = 1800
  dimension "d4" = 900
  dimension "d5" = 1800
  dimension "d6" = 3600
  dimension "d7" = 1800
  dimension "d8" = 900
  dimension "d9" = 1800
  dimension "d22" = 0.1
  dimension "d23" = 0.1
  dimension "d24" = 0.1
  dimension "d26" = 0.1
  dimension "d31" = 0.1
  dimension "d32" = 0.1
  dimension "d35" = 0.1
  dimension "d36" = 0.1
  dimension "d82" = 900
extrude "押し出し18" cut sketch "スケッチ13" along normal blind 600
sketch "スケッチ14" plane through (0, -10, 0) normal (0, -1, 0) x (1, 0, 0)
  line L0 (-4500, 5400) -> (0, 5400) projected
  line L1 (-4500, 5400) -> (0, 5400)
  line L2 (0, 5400) -> (0, 0)
  line L3 (0, 0) -> (-4500, 0)
  line L4 (-4500, 0) -> (-4500, 5400)
extrude "押し出し19" add sketch "スケッチ14" along normal mid plane 8
sketch "スケッチ15" plane through (0, 800, 0) normal (0, 1, 0) x (1, 0, 0)
  line L0 (-1779.9, -899.9) -> (-20, -899.9) projected
  line L1 (0, -5400) -> (0, 0) projected
  line L2 (0, -900) -> (-1800, -900) projected
  line L3 (0, -900) -> (-1779.9, -900)
  line L4 (-1779.9, -900) -> (-1779.9, -5400)
  line L5 (-1779.9, -5400) -> (0, -5400)
  line L6 (0, -5400) -> (0, -900)
  line L7 (-1779.9, -1819.9) -> (-1779.9, -899.9) projected
  line L8 (-4500, -5400) -> (0, -5400) projected
  line L9 (-4480, -5380) -> (-4480, -20) projected
  line L10 (0, -5400) -> (-4480, -5400)
  line L11 (-4480, -5400) -> (-4480, -3600.1)
  line L12 (-4480, -3600.1) -> (0, -3600.1)
  line L13 (0, -3600.1) -> (0, -5400)
  line L14 (-900, -3600.1) -> (-2699.9, -3600.1) projected
  point P0 (-9000, -5400)
  point P1 (-1779.9, -3600.1)
extrude "押し出し20" cut sketch "スケッチ15" against normal blind 400
mirror "ミラー2" about plane through (-4500, 0, 3600) normal (-1, 0, 0)
equation "\"d58\" = d57"
properties part number "world"
